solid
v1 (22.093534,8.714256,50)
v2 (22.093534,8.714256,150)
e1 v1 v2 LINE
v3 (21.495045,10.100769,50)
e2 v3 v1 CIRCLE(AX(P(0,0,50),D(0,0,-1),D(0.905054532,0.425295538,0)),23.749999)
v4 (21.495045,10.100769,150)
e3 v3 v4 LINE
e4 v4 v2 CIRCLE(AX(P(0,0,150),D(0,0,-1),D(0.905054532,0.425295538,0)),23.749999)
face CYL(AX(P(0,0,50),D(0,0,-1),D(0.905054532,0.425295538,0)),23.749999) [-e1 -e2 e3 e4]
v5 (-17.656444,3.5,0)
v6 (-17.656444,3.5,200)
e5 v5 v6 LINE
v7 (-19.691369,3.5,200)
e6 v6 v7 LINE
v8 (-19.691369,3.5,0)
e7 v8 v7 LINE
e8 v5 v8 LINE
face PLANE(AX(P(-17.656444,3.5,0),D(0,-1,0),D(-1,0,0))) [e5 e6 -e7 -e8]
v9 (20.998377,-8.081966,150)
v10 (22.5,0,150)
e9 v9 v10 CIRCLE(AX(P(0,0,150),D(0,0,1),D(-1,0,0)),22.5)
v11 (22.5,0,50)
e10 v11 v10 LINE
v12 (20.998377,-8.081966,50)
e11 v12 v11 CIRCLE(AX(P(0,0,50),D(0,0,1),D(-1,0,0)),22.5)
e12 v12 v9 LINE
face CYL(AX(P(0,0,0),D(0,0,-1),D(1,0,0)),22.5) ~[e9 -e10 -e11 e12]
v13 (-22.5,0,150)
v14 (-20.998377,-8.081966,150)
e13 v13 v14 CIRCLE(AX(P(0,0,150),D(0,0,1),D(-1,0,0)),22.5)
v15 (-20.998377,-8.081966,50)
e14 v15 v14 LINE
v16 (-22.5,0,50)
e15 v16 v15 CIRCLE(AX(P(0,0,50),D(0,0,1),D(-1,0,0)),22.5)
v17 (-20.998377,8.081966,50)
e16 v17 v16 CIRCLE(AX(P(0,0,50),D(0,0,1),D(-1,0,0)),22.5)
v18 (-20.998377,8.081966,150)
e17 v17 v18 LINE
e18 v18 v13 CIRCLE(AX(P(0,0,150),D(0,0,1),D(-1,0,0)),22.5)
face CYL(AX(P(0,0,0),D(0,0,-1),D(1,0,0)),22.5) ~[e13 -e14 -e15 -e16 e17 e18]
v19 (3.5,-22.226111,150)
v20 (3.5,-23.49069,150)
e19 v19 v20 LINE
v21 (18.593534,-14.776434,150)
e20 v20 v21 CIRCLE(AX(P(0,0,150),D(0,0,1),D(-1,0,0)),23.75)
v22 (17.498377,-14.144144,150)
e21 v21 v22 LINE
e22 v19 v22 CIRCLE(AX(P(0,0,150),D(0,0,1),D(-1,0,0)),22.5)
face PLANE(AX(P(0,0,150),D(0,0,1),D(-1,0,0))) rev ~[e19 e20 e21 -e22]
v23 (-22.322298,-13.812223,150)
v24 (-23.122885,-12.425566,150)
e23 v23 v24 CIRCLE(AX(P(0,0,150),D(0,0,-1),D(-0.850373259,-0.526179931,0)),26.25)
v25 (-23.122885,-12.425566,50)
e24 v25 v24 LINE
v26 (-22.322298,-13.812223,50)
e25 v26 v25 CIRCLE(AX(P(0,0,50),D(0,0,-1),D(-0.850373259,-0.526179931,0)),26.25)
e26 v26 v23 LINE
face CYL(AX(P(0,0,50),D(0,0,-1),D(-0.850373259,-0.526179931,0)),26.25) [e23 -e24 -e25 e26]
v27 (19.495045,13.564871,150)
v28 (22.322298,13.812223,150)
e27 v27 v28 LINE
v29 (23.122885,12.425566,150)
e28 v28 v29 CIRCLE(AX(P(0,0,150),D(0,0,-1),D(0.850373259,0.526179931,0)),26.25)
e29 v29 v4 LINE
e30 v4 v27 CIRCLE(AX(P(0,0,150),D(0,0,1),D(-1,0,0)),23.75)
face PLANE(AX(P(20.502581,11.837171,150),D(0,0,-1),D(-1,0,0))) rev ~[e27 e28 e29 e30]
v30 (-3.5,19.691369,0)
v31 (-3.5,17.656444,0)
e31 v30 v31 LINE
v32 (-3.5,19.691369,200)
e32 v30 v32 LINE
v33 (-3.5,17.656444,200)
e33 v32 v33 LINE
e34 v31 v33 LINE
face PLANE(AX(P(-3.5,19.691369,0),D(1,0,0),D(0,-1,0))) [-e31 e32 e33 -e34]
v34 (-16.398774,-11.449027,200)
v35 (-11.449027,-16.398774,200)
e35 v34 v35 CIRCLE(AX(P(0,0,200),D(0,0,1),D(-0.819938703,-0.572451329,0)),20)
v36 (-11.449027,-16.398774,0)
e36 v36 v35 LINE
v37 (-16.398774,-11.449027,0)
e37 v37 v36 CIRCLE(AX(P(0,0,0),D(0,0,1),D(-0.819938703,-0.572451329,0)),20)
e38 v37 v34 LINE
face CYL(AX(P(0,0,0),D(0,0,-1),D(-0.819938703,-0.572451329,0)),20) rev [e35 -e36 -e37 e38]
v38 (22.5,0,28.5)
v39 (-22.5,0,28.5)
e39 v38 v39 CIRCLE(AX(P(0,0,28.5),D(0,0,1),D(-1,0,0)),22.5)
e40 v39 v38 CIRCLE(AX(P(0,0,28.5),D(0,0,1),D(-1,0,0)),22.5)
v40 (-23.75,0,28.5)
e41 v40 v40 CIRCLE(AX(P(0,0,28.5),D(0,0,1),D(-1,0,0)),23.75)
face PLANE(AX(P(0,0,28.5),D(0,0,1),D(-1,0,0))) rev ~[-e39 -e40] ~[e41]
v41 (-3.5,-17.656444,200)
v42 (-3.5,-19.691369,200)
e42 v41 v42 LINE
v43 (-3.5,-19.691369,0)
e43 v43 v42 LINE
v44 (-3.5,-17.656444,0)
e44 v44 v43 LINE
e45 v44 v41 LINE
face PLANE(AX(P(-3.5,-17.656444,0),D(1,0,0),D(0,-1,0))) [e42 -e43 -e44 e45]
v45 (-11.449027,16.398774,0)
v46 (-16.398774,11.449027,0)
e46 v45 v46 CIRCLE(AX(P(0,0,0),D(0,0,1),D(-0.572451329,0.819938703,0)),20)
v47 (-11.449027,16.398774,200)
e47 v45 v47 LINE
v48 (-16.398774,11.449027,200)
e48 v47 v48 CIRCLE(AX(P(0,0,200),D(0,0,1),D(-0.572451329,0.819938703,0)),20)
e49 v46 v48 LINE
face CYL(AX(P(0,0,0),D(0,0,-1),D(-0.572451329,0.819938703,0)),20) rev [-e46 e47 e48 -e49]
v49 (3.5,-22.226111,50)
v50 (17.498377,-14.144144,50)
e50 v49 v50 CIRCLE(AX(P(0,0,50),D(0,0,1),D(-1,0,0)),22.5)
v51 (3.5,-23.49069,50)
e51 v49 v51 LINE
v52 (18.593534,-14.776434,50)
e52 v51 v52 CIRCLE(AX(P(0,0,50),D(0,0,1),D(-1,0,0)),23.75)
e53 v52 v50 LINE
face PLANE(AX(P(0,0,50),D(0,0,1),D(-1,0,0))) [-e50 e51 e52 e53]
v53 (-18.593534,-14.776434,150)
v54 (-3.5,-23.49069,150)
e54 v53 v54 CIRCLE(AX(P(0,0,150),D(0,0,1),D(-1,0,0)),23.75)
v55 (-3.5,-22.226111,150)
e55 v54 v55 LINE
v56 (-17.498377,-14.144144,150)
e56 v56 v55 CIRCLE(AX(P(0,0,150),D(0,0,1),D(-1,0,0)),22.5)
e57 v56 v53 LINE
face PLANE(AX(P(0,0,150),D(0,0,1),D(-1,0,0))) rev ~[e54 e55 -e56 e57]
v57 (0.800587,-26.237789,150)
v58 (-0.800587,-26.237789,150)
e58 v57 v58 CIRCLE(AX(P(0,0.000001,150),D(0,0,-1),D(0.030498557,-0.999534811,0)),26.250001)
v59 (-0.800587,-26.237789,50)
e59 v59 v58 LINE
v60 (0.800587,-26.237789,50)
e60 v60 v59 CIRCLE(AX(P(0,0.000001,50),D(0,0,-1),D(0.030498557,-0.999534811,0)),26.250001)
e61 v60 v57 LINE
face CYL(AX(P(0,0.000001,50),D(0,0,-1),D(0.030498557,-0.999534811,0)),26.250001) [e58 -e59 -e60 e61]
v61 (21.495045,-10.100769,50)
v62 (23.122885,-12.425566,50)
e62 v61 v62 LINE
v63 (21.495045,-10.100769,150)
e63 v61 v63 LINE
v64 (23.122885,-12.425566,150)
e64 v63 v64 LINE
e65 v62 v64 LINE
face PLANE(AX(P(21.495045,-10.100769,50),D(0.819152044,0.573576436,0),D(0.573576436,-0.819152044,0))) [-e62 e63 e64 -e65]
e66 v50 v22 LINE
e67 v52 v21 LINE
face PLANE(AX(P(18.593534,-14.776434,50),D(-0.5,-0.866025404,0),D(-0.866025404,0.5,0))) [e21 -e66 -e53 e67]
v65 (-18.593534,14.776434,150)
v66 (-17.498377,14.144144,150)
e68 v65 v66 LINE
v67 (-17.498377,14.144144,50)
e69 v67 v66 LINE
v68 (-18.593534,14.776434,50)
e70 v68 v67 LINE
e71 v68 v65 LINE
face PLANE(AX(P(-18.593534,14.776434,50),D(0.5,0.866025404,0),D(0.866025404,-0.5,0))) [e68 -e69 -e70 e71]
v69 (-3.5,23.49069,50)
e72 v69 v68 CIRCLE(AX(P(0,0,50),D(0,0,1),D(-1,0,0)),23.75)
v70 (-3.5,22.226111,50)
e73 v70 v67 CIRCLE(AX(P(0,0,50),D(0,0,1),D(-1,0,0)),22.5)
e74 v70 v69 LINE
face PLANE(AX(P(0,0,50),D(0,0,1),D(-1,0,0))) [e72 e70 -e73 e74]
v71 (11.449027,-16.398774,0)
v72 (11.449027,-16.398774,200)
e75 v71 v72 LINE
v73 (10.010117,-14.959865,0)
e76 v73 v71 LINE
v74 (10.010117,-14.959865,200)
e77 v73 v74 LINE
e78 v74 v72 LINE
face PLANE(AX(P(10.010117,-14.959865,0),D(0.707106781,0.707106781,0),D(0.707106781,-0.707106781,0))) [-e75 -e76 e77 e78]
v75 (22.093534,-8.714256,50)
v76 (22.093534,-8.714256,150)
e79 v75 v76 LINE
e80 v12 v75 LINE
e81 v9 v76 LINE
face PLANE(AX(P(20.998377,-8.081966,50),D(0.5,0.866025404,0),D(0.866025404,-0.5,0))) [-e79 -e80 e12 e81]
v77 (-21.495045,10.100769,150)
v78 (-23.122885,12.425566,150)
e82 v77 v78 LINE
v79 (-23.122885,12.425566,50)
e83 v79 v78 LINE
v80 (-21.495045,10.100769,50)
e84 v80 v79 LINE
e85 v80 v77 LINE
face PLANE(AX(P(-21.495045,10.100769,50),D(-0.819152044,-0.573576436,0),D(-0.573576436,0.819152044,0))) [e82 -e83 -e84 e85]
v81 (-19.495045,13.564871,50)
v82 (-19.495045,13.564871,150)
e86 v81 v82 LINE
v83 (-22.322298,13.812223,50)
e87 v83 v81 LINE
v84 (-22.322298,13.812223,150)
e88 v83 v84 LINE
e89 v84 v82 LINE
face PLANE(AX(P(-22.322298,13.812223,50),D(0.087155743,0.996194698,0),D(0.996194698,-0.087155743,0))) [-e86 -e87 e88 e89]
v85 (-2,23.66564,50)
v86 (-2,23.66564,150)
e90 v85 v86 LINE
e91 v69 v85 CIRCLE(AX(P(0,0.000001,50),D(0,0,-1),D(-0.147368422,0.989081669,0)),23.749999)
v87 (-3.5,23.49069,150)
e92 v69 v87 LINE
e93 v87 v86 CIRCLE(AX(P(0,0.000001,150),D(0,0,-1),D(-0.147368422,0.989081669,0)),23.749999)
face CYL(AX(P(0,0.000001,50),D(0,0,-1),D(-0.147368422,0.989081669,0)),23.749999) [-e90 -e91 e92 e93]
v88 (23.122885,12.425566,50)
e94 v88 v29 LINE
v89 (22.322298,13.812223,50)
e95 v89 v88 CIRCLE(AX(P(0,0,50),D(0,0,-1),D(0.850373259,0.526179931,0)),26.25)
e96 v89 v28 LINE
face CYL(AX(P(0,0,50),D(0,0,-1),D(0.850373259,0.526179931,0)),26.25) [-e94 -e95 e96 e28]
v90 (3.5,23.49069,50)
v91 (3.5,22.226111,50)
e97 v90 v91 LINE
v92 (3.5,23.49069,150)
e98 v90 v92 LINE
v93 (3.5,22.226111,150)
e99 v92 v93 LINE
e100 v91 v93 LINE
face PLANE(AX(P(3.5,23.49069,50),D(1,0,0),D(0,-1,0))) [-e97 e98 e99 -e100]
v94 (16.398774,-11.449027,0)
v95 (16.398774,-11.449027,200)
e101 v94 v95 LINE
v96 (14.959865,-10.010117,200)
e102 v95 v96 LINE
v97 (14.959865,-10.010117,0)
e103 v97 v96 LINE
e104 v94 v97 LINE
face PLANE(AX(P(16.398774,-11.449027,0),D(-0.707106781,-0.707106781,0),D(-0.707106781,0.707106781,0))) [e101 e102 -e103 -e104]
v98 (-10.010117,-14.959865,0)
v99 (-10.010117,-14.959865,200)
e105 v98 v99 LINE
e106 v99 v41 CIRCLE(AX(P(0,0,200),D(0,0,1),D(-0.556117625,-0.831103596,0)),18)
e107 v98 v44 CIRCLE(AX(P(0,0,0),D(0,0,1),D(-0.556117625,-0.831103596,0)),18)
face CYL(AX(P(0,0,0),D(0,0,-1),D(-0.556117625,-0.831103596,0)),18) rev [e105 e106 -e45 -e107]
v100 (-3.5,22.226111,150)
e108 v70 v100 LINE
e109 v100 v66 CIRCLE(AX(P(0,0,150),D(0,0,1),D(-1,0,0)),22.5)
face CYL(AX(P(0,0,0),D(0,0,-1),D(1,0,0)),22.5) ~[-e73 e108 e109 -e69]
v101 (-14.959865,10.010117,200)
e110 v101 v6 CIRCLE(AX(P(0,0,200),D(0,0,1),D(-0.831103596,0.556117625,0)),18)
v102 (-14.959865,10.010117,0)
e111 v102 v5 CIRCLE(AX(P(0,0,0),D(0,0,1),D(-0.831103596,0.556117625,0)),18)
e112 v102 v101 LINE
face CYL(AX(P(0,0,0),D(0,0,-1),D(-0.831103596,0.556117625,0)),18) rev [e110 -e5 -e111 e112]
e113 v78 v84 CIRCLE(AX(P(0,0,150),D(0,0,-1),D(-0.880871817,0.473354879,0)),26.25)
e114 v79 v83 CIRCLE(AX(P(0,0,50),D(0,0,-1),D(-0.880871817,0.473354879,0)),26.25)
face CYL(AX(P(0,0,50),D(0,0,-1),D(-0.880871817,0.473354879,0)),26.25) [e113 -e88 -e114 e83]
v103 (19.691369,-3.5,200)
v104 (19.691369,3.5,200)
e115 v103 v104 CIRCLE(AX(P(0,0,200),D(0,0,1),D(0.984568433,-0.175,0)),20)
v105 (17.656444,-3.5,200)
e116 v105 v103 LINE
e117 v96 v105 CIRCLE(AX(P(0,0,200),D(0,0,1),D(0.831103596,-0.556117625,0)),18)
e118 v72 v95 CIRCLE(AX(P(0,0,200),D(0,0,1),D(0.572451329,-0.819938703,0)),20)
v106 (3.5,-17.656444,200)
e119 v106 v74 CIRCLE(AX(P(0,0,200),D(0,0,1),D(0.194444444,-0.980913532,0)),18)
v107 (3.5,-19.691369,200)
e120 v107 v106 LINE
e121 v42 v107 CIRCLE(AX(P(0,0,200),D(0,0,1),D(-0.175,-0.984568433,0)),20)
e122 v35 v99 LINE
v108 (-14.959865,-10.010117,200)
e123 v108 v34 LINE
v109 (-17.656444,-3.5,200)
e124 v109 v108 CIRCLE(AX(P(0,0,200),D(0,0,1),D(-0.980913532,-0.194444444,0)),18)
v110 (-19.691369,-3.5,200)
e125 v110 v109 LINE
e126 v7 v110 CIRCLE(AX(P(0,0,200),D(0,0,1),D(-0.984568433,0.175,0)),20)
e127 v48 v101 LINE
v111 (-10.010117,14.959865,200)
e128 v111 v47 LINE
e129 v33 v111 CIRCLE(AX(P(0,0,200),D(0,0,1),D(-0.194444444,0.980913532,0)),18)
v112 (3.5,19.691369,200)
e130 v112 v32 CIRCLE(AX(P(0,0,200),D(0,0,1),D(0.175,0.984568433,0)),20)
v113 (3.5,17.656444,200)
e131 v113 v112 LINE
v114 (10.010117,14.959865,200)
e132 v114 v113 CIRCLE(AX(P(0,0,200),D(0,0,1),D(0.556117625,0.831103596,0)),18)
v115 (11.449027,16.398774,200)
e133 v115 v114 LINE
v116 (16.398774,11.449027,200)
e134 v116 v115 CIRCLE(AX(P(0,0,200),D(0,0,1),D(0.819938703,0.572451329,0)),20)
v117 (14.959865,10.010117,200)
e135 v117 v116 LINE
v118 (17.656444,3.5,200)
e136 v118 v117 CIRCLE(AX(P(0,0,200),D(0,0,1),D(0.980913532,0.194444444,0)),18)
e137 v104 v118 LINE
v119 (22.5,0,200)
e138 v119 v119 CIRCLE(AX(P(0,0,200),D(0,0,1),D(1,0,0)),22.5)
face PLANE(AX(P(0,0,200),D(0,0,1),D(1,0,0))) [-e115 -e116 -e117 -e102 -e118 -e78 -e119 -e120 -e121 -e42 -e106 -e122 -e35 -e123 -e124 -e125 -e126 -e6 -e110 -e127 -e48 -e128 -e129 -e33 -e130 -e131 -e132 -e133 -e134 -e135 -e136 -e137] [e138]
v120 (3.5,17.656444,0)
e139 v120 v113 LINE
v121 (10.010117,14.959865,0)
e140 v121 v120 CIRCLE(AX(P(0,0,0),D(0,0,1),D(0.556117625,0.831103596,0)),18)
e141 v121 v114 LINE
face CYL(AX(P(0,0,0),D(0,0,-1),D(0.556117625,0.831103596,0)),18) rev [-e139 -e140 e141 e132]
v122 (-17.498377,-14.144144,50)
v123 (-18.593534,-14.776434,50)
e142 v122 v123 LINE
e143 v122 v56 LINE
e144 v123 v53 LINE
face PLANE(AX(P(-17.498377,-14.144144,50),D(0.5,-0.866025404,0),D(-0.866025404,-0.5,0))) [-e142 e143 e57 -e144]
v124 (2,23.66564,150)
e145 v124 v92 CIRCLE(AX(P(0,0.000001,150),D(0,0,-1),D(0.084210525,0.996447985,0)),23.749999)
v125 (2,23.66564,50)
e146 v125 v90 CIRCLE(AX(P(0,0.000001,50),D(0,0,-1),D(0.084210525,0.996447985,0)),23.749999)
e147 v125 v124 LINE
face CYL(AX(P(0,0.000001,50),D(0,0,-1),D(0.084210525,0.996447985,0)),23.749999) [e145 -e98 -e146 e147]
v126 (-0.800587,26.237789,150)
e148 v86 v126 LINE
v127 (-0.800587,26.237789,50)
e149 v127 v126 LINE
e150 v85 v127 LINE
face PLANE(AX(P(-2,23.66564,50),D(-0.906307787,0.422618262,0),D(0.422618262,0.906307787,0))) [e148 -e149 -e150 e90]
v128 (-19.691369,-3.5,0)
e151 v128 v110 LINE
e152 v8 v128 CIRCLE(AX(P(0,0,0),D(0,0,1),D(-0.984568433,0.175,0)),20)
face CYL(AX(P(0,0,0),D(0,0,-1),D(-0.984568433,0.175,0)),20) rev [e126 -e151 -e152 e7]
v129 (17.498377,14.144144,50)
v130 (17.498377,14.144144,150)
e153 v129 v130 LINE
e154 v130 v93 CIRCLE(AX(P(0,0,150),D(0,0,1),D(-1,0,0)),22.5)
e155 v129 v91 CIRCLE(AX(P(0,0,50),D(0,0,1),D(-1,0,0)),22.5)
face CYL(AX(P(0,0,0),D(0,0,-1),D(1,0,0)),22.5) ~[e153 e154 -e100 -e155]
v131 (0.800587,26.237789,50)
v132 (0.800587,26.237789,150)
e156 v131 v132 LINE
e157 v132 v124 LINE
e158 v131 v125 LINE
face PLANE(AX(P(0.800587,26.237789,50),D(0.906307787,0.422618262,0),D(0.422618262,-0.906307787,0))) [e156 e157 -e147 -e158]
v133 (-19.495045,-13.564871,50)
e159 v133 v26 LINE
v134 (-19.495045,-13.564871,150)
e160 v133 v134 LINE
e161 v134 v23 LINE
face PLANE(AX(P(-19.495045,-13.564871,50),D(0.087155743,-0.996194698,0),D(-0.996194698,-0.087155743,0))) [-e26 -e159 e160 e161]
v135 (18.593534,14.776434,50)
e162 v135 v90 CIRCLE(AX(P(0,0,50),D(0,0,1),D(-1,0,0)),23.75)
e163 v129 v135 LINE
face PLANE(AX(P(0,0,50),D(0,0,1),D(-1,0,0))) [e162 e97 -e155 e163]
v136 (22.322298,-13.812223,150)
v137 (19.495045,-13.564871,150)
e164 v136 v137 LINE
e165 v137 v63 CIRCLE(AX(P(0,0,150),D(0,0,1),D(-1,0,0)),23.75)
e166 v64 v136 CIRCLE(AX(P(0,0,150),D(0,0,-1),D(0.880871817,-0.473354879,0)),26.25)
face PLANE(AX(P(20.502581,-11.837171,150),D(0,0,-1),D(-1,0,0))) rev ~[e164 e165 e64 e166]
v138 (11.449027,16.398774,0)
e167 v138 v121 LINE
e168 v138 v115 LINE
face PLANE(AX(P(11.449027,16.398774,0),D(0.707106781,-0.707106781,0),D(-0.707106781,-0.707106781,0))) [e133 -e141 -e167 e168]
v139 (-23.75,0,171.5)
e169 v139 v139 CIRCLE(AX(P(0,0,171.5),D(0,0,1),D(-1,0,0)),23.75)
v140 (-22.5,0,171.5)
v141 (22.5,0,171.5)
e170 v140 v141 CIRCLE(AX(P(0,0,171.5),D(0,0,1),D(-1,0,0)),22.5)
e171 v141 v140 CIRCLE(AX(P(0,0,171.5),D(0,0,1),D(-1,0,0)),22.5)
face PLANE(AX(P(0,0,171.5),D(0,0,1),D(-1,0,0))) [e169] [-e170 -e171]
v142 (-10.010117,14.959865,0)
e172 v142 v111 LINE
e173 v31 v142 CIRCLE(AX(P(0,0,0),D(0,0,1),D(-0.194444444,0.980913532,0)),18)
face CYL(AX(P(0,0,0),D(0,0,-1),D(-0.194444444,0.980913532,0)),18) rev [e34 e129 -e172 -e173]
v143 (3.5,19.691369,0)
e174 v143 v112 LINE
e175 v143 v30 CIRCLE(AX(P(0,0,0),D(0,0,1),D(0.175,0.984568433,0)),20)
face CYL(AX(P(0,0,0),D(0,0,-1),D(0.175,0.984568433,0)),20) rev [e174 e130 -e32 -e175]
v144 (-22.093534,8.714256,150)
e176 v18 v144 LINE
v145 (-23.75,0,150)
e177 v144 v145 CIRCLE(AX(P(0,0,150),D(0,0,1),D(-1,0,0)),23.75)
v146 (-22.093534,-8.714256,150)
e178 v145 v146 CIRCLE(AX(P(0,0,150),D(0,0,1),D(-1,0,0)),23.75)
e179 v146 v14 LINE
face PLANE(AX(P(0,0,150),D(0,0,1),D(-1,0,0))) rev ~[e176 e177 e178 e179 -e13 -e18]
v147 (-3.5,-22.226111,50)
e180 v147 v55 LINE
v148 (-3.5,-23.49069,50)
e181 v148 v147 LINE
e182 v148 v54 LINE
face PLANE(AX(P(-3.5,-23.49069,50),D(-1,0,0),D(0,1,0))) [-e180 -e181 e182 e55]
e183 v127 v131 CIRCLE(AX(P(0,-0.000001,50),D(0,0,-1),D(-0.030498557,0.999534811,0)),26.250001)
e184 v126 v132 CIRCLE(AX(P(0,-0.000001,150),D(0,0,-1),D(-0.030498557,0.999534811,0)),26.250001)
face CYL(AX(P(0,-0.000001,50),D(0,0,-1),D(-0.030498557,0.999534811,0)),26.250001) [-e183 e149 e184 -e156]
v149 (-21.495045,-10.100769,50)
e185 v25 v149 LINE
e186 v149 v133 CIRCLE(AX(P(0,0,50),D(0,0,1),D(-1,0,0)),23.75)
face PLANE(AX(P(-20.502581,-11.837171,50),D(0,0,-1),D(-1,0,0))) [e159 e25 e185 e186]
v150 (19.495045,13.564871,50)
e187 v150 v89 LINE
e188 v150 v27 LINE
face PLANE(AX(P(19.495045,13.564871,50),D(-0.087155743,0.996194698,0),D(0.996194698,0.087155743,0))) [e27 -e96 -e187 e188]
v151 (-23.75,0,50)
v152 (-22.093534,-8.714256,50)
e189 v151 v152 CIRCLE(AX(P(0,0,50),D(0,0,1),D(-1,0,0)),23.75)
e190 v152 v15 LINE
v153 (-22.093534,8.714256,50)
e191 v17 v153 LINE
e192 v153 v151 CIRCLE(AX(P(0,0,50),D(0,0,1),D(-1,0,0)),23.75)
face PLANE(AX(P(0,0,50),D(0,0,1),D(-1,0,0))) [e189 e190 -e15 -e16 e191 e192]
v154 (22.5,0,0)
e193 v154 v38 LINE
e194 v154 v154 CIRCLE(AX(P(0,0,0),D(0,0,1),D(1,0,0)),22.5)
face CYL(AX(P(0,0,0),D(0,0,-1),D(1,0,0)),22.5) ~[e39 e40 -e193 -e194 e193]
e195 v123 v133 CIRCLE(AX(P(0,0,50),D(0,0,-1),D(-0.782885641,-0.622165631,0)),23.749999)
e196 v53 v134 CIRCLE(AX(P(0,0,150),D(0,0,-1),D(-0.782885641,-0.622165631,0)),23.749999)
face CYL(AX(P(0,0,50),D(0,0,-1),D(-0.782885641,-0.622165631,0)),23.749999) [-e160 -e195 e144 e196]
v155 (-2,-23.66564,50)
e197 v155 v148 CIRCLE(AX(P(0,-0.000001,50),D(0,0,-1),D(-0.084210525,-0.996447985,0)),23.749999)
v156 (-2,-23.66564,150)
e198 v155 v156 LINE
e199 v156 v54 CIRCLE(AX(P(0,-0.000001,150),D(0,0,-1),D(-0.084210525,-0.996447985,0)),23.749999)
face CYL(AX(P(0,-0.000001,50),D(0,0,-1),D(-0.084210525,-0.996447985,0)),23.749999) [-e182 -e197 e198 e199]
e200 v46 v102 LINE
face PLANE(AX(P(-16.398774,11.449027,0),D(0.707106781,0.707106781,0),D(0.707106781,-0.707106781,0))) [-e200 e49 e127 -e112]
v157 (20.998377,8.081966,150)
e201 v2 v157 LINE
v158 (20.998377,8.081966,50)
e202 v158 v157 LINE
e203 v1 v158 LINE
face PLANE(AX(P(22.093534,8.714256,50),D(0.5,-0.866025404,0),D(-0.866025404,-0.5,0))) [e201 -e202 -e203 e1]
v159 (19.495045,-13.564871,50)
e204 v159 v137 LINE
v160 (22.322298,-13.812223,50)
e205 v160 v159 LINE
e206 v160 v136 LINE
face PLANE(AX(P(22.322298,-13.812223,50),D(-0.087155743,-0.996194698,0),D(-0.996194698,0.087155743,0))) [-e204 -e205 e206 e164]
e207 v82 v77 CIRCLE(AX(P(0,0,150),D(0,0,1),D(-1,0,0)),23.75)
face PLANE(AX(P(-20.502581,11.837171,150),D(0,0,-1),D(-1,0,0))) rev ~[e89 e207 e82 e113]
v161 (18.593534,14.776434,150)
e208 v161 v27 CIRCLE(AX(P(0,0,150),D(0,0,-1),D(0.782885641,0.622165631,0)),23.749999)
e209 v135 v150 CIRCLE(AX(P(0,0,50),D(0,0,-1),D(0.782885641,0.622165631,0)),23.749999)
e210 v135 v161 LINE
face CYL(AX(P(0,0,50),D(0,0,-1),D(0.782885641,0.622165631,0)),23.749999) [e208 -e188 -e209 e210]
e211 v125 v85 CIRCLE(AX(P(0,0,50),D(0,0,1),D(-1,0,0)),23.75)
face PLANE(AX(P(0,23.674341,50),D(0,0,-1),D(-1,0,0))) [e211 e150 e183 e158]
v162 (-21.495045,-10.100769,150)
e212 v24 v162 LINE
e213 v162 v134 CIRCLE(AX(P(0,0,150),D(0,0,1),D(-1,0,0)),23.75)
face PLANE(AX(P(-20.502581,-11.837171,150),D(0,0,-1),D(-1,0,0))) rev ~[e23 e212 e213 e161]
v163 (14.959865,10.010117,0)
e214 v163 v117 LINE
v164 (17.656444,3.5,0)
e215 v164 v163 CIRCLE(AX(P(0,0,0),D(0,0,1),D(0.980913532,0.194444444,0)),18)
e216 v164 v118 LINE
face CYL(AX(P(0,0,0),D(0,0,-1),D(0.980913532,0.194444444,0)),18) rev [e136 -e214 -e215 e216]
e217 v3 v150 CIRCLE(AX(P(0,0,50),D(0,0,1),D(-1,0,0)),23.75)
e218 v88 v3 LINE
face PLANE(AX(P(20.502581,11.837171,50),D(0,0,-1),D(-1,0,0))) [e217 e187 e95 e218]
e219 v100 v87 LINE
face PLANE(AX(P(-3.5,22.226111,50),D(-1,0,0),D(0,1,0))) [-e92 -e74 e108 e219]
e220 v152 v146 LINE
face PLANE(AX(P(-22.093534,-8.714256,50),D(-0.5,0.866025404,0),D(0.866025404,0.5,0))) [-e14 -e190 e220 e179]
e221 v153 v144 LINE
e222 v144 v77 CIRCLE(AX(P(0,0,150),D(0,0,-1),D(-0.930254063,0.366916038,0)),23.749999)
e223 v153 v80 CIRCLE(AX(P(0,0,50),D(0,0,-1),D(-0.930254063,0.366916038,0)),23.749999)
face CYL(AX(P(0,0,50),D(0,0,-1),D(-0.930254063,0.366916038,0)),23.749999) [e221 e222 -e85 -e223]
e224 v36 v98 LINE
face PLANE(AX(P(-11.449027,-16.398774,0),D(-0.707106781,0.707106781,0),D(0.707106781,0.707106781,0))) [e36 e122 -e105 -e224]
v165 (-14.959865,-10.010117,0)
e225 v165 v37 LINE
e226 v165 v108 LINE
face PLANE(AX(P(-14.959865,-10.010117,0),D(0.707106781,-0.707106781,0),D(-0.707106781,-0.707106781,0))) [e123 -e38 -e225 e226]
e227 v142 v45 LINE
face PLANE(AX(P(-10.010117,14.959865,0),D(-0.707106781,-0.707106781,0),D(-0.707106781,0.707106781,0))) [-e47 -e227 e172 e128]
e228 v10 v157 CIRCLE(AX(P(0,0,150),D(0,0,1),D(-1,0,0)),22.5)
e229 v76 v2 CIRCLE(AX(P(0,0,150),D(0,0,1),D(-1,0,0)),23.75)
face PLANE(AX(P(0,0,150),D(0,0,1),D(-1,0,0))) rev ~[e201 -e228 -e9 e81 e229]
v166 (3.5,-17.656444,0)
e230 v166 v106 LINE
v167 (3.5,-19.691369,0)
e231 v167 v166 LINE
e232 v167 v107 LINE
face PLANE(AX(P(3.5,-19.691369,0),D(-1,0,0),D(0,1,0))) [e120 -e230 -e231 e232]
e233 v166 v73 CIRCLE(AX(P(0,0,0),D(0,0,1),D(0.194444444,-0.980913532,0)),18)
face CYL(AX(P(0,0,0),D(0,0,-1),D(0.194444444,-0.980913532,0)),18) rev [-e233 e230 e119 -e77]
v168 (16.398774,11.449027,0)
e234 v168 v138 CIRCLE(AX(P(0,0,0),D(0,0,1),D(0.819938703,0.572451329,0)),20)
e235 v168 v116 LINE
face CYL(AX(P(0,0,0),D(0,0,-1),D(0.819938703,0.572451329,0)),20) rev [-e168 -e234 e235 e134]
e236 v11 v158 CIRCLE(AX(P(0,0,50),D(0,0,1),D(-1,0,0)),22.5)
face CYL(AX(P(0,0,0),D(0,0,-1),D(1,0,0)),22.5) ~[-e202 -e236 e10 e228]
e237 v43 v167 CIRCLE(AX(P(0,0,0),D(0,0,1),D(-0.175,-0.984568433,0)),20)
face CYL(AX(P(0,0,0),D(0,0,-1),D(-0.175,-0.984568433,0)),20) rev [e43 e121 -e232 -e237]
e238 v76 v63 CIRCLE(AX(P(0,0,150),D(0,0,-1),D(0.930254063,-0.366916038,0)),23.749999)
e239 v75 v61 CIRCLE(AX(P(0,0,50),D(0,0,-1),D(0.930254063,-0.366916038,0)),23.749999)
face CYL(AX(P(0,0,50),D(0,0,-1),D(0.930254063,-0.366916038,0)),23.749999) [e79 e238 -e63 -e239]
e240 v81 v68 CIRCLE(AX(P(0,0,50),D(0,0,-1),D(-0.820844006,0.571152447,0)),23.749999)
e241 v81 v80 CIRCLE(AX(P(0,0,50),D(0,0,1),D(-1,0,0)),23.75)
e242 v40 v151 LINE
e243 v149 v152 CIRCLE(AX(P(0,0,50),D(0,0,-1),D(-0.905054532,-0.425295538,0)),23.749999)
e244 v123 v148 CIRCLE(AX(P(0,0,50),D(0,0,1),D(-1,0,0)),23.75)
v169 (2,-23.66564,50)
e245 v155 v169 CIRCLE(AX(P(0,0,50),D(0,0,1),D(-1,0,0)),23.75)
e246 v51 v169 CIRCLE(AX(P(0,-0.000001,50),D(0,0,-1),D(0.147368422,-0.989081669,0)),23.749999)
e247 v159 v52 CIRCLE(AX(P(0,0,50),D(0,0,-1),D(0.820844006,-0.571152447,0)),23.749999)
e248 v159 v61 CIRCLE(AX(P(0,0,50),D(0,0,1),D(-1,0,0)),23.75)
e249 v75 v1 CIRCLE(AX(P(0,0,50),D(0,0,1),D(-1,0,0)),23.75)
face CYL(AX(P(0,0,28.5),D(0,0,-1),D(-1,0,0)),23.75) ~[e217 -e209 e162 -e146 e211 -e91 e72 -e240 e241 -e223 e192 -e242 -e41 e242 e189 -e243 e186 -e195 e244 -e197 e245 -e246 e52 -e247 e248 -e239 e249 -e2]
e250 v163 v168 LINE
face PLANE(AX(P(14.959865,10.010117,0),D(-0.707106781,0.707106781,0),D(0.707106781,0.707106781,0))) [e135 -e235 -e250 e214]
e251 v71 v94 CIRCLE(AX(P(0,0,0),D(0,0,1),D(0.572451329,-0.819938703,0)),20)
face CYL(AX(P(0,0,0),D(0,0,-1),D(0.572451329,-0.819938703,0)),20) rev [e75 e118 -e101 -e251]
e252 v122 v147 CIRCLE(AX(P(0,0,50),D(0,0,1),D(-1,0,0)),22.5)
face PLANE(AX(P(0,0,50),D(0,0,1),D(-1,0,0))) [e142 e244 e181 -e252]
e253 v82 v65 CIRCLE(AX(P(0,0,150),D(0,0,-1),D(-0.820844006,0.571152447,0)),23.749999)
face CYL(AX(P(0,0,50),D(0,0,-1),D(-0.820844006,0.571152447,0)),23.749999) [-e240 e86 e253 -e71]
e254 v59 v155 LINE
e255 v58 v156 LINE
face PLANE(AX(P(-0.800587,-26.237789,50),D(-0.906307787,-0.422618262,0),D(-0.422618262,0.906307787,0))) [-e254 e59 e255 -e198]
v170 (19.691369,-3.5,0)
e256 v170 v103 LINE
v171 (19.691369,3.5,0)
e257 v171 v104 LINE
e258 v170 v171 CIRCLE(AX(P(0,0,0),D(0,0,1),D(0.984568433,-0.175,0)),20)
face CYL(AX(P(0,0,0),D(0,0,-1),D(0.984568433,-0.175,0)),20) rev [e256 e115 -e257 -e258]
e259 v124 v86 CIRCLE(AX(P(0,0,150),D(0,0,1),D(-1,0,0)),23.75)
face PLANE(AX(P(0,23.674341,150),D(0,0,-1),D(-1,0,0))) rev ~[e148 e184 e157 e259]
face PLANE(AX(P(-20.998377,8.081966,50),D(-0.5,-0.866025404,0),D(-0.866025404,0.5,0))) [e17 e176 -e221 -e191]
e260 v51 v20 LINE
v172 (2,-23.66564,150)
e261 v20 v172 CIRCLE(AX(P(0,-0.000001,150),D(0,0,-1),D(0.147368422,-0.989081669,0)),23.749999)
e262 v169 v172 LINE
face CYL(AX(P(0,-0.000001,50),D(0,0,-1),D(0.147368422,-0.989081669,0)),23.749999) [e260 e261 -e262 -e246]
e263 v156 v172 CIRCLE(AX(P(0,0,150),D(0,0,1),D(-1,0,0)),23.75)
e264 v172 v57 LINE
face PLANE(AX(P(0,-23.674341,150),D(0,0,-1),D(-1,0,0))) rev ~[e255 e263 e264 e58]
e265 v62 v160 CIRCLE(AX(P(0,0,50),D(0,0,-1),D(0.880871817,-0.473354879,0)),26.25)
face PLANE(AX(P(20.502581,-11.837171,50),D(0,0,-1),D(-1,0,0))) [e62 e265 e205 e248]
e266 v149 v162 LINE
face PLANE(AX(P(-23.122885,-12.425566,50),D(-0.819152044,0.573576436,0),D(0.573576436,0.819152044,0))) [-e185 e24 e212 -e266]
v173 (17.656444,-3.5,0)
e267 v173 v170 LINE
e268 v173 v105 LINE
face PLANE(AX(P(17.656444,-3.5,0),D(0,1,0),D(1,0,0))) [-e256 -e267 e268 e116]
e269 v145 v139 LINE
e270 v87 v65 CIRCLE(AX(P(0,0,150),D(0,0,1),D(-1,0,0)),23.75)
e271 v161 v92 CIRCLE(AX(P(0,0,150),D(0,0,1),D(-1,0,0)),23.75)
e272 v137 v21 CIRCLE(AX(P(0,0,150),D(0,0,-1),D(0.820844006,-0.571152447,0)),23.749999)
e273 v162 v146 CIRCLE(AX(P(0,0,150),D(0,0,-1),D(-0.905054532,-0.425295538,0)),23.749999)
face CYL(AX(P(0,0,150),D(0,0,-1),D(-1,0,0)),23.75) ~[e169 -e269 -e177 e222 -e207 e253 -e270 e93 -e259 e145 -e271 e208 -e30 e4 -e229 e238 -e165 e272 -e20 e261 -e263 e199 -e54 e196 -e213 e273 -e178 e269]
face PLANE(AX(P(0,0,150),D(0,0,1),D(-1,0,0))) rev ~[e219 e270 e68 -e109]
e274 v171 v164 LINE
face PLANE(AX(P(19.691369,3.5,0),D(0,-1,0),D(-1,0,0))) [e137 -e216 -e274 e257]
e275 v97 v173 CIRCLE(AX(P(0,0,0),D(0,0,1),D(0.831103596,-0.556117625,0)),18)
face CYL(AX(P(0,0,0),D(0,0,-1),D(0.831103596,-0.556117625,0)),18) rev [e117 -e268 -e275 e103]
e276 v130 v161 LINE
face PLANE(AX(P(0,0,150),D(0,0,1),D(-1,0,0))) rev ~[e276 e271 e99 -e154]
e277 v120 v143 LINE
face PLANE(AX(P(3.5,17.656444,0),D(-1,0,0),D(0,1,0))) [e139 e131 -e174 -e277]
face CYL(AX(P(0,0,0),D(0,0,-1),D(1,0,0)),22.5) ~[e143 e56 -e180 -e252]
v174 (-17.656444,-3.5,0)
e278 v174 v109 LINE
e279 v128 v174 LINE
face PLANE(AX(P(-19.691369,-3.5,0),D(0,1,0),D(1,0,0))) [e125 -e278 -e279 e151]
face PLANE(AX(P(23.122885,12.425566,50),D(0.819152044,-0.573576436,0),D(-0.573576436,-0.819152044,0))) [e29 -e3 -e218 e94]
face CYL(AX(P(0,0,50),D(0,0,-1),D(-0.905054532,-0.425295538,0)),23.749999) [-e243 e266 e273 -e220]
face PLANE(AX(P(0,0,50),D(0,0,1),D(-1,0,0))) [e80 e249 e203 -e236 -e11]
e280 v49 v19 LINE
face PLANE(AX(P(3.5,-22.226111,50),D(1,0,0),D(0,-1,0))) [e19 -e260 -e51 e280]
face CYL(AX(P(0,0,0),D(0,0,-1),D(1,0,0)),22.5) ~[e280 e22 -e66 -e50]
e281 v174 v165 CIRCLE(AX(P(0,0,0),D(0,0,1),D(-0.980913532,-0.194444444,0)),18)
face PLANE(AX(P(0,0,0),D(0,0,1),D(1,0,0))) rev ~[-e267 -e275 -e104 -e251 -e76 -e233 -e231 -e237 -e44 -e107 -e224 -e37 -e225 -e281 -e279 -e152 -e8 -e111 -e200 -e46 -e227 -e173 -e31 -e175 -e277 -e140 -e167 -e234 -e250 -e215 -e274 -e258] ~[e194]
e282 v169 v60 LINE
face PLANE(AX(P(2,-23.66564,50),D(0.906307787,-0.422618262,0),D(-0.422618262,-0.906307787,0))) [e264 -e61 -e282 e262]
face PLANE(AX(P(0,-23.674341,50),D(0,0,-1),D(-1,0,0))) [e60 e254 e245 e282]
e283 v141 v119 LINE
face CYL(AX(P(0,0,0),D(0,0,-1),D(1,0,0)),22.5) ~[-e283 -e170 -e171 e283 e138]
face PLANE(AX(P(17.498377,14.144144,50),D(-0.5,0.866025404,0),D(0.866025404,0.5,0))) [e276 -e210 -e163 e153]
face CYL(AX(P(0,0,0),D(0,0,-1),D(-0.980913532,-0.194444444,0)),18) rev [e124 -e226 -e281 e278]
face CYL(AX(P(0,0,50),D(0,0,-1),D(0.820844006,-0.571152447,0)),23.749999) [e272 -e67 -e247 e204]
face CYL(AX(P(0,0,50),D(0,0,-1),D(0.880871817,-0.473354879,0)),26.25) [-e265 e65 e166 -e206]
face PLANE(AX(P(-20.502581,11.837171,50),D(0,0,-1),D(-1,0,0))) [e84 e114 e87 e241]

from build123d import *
from build123d.topology import SkipClean

# Parameters (mm, degrees)
SKETCH1_R           = 22.5
BOSS_EXTRUDE1_DEPTH = 200
BOSS_EXTRUDE2_START = 50
BOSS_EXTRUDE2_DEPTH = 100
BOSS_EXTRUDE3_START = -50
SKETCH4_R           = 23.75
SKETCH4_R_2         = 22.5
BOSS_EXTRUDE3_DEPTH = 21.5
BOSS_EXTRUDE4_START = -171.5
SKETCH4_2_R         = 23.75
SKETCH4_2_R_2       = 22.5
BOSS_EXTRUDE4_DEPTH = 21.5


with BuildPart() as part:
    # Sketch1 → Boss-Extrude1 (new body)
    with BuildSketch(Plane.XY):
        Circle(SKETCH1_R)
        with BuildLine():
            Line((-3.5, 19.691368668), (-3.5, 17.656443583))
            ThreePointArc((-3.5, 17.656443583), (-6.888301783, 16.629831585), (-10.010117255, 14.959864723))
            Line((-10.010117255, 14.959864723), (-11.449026581, 16.39877405))
            ThreePointArc((-11.449026581, 16.39877405), (-14.142135624, 14.142135624), (-16.39877405, 11.449026581))
            Line((-16.39877405, 11.449026581), (-14.959864723, 10.010117255))
            ThreePointArc((-14.959864723, 10.010117255), (-16.629831585, 6.888301783), (-17.656443583, 3.5))
            Line((-17.656443583, 3.5), (-19.691368668, 3.5))
            ThreePointArc((-19.691368668, 3.5), (-20, 0), (-19.691368668, -3.5))
            Line((-19.691368668, -3.5), (-17.656443583, -3.5))
            ThreePointArc((-17.656443583, -3.5), (-16.629831585, -6.888301783), (-14.959864723, -10.010117255))
            Line((-14.959864723, -10.010117255), (-16.39877405, -11.449026581))
            ThreePointArc((-16.39877405, -11.449026581), (-14.142135624, -14.142135624), (-11.449026581, -16.39877405))
            Line((-11.449026581, -16.39877405), (-10.010117255, -14.959864723))
            ThreePointArc((-10.010117255, -14.959864723), (-6.888301783, -16.629831585), (-3.5, -17.656443583))
            Line((-3.5, -17.656443583), (-3.5, -19.691368668))
            ThreePointArc((-3.5, -19.691368668), (0, -20), (3.5, -19.691368668))
            Line((3.5, -19.691368668), (3.5, -17.656443583))
            ThreePointArc((3.5, -17.656443583), (6.888301783, -16.629831585), (10.010117255, -14.959864723))
            Line((10.010117255, -14.959864723), (11.449026581, -16.39877405))
            ThreePointArc((11.449026581, -16.39877405), (14.142135624, -14.142135624), (16.39877405, -11.449026581))
            Line((16.39877405, -11.449026581), (14.959864723, -10.010117255))
            ThreePointArc((14.959864723, -10.010117255), (16.629831585, -6.888301783), (17.656443583, -3.5))
            Line((17.656443583, -3.5), (19.691368668, -3.5))
            ThreePointArc((19.691368668, -3.5), (20, 0), (19.691368668, 3.5))
            Line((19.691368668, 3.5), (17.656443583, 3.5))
            ThreePointArc((17.656443583, 3.5), (16.629831585, 6.888301783), (14.959864723, 10.010117255))
            Line((14.959864723, 10.010117255), (16.39877405, 11.449026581))
            ThreePointArc((16.39877405, 11.449026581), (14.142135624, 14.142135624), (11.449026581, 16.39877405))
            Line((11.449026581, 16.39877405), (10.010117255, 14.959864723))
            ThreePointArc((10.010117255, 14.959864723), (6.888301783, 16.629831585), (3.5, 17.656443583))
            Line((3.5, 17.656443583), (3.5, 19.691368668))
            ThreePointArc((3.5, 19.691368668), (0, 20), (-3.5, 19.691368668))
        make_face(mode=Mode.SUBTRACT)
    extrude(amount=BOSS_EXTRUDE1_DEPTH)

    # Sketch3 → Boss-Extrude2 (add)
    with BuildSketch(Plane.XY.offset(BOSS_EXTRUDE2_START)):
        with BuildLine():
            Line((-2, 23.665639649), (-0.800587161, 26.237788783))
            ThreePointArc((-0.800587161, 26.237788783), (0, 26.25), (0.800587161, 26.237788783))
            Line((0.800587161, 26.237788783), (2, 23.665639649))
            ThreePointArc((2, 23.665639649), (2.751390898, 23.590090041), (3.5, 23.490689645))
            Line((3.5, 23.490689645), (3.5, 22.226110771))
            ThreePointArc((3.5, 22.226110771), (0, 22.5), (-3.5, 22.226110771))
            Line((-3.5, 22.226110771), (-3.5, 23.490689645))
            ThreePointArc((-3.5, 23.490689645), (-2.751390898, 23.590090041), (-2, 23.665639649))
        make_face()
        with BuildLine():
            Line((17.498376555, 14.144144299), (18.593533985, 14.776433736))
            ThreePointArc((18.593533985, 14.776433736), (19.053921804, 14.177819434), (19.495045133, 13.564870632))
            Line((19.495045133, 13.564870632), (22.322298044, 13.812223211))
            ThreePointArc((22.322298044, 13.812223211), (22.733166849, 13.125), (23.122885205, 12.425565572))
            Line((23.122885205, 12.425565572), (21.495045133, 10.100769017))
            ThreePointArc((21.495045133, 10.100769017), (21.805312702, 9.412270607), (22.093533985, 8.714255909))
            Line((22.093533985, 8.714255909), (20.998376555, 8.081966472))
            ThreePointArc((20.998376555, 8.081966472), (19.485571585, 11.25), (17.498376555, 14.144144299))
        make_face()
        with BuildLine():
            Line((20.998376555, -8.081966472), (22.093533985, -8.714255909))
            ThreePointArc((22.093533985, -8.714255909), (21.805312702, -9.412270607), (21.495045133, -10.100769017))
            Line((21.495045133, -10.100769017), (23.122885205, -12.425565572))
            ThreePointArc((23.122885205, -12.425565572), (22.733166849, -13.125), (22.322298044, -13.812223211))
            Line((22.322298044, -13.812223211), (19.495045133, -13.564870632))
            ThreePointArc((19.495045133, -13.564870632), (19.053921804, -14.177819434), (18.593533985, -14.776433736))
            Line((18.593533985, -14.776433736), (17.498376555, -14.144144299))
            ThreePointArc((17.498376555, -14.144144299), (19.485571585, -11.25), (20.998376555, -8.081966472))
        make_face()
        with BuildLine():
            Line((3.5, -22.226110771), (3.5, -23.490689645))
            ThreePointArc((3.5, -23.490689645), (2.751390898, -23.590090041), (2, -23.665639649))
            Line((2, -23.665639649), (0.800587161, -26.237788783))
            ThreePointArc((0.800587161, -26.237788783), (0, -26.25), (-0.800587161, -26.237788783))
            Line((-0.800587161, -26.237788783), (-2, -23.665639649))
            ThreePointArc((-2, -23.665639649), (-2.751390898, -23.590090041), (-3.5, -23.490689645))
            Line((-3.5, -23.490689645), (-3.5, -22.226110771))
            ThreePointArc((-3.5, -22.226110771), (0, -22.5), (3.5, -22.226110771))
        make_face()
        with BuildLine():
            Line((-17.498376555, -14.144144299), (-18.593533985, -14.776433736))
            ThreePointArc((-18.593533985, -14.776433736), (-19.053921804, -14.177819434), (-19.495045133, -13.564870632))
            Line((-19.495045133, -13.564870632), (-22.322298044, -13.812223211))
            ThreePointArc((-22.322298044, -13.812223211), (-22.733166849, -13.125), (-23.122885205, -12.425565572))
            Line((-23.122885205, -12.425565572), (-21.495045133, -10.100769017))
            ThreePointArc((-21.495045133, -10.100769017), (-21.805312702, -9.412270607), (-22.093533985, -8.714255909))
            Line((-22.093533985, -8.714255909), (-20.998376555, -8.081966472))
            ThreePointArc((-20.998376555, -8.081966472), (-19.485571585, -11.25), (-17.498376555, -14.144144299))
        make_face()
        with BuildLine():
            Line((-20.998376555, 8.081966472), (-22.093533985, 8.714255909))
            ThreePointArc((-22.093533985, 8.714255909), (-21.805312702, 9.412270607), (-21.495045133, 10.100769017))
            Line((-21.495045133, 10.100769017), (-23.122885205, 12.425565572))
            ThreePointArc((-23.122885205, 12.425565572), (-22.733166849, 13.125), (-22.322298044, 13.812223211))
            Line((-22.322298044, 13.812223211), (-19.495045133, 13.564870632))
            ThreePointArc((-19.495045133, 13.564870632), (-19.053921804, 14.177819434), (-18.593533985, 14.776433736))
            Line((-18.593533985, 14.776433736), (-17.498376555, 14.144144299))
            ThreePointArc((-17.498376555, 14.144144299), (-19.485571585, 11.25), (-20.998376555, 8.081966472))
        make_face()
    extrude(amount=BOSS_EXTRUDE2_DEPTH)

    # Sketch4 → Boss-Extrude3 (add)
    with SkipClean():  # the faces are left unmerged after this step: merging them gives an invalid solid
        with BuildSketch(Plane.XY.offset(200).offset(BOSS_EXTRUDE3_START)):
            with Locations(Location((0, 0, 0), (0, 0, 180))):
                Circle(SKETCH4_R)
            with Locations(Location((0, 0, 0), (0, 0, 180))):
                Circle(SKETCH4_R_2, mode=Mode.SUBTRACT)
        extrude(amount=BOSS_EXTRUDE3_DEPTH)

    # Sketch4<2> → Boss-Extrude4 (add)
    with SkipClean():  # the faces are left unmerged after this step: merging them gives an invalid solid
        with BuildSketch(Plane.XY.offset(200).offset(BOSS_EXTRUDE4_START)):
            with Locations(Location((0, 0, 0), (0, 0, 180))):
                Circle(SKETCH4_2_R)
            with Locations(Location((0, 0, 0), (0, 0, 180))):
                Circle(SKETCH4_2_R_2, mode=Mode.SUBTRACT)
        extrude(amount=BOSS_EXTRUDE4_DEPTH)


solid = part.part
